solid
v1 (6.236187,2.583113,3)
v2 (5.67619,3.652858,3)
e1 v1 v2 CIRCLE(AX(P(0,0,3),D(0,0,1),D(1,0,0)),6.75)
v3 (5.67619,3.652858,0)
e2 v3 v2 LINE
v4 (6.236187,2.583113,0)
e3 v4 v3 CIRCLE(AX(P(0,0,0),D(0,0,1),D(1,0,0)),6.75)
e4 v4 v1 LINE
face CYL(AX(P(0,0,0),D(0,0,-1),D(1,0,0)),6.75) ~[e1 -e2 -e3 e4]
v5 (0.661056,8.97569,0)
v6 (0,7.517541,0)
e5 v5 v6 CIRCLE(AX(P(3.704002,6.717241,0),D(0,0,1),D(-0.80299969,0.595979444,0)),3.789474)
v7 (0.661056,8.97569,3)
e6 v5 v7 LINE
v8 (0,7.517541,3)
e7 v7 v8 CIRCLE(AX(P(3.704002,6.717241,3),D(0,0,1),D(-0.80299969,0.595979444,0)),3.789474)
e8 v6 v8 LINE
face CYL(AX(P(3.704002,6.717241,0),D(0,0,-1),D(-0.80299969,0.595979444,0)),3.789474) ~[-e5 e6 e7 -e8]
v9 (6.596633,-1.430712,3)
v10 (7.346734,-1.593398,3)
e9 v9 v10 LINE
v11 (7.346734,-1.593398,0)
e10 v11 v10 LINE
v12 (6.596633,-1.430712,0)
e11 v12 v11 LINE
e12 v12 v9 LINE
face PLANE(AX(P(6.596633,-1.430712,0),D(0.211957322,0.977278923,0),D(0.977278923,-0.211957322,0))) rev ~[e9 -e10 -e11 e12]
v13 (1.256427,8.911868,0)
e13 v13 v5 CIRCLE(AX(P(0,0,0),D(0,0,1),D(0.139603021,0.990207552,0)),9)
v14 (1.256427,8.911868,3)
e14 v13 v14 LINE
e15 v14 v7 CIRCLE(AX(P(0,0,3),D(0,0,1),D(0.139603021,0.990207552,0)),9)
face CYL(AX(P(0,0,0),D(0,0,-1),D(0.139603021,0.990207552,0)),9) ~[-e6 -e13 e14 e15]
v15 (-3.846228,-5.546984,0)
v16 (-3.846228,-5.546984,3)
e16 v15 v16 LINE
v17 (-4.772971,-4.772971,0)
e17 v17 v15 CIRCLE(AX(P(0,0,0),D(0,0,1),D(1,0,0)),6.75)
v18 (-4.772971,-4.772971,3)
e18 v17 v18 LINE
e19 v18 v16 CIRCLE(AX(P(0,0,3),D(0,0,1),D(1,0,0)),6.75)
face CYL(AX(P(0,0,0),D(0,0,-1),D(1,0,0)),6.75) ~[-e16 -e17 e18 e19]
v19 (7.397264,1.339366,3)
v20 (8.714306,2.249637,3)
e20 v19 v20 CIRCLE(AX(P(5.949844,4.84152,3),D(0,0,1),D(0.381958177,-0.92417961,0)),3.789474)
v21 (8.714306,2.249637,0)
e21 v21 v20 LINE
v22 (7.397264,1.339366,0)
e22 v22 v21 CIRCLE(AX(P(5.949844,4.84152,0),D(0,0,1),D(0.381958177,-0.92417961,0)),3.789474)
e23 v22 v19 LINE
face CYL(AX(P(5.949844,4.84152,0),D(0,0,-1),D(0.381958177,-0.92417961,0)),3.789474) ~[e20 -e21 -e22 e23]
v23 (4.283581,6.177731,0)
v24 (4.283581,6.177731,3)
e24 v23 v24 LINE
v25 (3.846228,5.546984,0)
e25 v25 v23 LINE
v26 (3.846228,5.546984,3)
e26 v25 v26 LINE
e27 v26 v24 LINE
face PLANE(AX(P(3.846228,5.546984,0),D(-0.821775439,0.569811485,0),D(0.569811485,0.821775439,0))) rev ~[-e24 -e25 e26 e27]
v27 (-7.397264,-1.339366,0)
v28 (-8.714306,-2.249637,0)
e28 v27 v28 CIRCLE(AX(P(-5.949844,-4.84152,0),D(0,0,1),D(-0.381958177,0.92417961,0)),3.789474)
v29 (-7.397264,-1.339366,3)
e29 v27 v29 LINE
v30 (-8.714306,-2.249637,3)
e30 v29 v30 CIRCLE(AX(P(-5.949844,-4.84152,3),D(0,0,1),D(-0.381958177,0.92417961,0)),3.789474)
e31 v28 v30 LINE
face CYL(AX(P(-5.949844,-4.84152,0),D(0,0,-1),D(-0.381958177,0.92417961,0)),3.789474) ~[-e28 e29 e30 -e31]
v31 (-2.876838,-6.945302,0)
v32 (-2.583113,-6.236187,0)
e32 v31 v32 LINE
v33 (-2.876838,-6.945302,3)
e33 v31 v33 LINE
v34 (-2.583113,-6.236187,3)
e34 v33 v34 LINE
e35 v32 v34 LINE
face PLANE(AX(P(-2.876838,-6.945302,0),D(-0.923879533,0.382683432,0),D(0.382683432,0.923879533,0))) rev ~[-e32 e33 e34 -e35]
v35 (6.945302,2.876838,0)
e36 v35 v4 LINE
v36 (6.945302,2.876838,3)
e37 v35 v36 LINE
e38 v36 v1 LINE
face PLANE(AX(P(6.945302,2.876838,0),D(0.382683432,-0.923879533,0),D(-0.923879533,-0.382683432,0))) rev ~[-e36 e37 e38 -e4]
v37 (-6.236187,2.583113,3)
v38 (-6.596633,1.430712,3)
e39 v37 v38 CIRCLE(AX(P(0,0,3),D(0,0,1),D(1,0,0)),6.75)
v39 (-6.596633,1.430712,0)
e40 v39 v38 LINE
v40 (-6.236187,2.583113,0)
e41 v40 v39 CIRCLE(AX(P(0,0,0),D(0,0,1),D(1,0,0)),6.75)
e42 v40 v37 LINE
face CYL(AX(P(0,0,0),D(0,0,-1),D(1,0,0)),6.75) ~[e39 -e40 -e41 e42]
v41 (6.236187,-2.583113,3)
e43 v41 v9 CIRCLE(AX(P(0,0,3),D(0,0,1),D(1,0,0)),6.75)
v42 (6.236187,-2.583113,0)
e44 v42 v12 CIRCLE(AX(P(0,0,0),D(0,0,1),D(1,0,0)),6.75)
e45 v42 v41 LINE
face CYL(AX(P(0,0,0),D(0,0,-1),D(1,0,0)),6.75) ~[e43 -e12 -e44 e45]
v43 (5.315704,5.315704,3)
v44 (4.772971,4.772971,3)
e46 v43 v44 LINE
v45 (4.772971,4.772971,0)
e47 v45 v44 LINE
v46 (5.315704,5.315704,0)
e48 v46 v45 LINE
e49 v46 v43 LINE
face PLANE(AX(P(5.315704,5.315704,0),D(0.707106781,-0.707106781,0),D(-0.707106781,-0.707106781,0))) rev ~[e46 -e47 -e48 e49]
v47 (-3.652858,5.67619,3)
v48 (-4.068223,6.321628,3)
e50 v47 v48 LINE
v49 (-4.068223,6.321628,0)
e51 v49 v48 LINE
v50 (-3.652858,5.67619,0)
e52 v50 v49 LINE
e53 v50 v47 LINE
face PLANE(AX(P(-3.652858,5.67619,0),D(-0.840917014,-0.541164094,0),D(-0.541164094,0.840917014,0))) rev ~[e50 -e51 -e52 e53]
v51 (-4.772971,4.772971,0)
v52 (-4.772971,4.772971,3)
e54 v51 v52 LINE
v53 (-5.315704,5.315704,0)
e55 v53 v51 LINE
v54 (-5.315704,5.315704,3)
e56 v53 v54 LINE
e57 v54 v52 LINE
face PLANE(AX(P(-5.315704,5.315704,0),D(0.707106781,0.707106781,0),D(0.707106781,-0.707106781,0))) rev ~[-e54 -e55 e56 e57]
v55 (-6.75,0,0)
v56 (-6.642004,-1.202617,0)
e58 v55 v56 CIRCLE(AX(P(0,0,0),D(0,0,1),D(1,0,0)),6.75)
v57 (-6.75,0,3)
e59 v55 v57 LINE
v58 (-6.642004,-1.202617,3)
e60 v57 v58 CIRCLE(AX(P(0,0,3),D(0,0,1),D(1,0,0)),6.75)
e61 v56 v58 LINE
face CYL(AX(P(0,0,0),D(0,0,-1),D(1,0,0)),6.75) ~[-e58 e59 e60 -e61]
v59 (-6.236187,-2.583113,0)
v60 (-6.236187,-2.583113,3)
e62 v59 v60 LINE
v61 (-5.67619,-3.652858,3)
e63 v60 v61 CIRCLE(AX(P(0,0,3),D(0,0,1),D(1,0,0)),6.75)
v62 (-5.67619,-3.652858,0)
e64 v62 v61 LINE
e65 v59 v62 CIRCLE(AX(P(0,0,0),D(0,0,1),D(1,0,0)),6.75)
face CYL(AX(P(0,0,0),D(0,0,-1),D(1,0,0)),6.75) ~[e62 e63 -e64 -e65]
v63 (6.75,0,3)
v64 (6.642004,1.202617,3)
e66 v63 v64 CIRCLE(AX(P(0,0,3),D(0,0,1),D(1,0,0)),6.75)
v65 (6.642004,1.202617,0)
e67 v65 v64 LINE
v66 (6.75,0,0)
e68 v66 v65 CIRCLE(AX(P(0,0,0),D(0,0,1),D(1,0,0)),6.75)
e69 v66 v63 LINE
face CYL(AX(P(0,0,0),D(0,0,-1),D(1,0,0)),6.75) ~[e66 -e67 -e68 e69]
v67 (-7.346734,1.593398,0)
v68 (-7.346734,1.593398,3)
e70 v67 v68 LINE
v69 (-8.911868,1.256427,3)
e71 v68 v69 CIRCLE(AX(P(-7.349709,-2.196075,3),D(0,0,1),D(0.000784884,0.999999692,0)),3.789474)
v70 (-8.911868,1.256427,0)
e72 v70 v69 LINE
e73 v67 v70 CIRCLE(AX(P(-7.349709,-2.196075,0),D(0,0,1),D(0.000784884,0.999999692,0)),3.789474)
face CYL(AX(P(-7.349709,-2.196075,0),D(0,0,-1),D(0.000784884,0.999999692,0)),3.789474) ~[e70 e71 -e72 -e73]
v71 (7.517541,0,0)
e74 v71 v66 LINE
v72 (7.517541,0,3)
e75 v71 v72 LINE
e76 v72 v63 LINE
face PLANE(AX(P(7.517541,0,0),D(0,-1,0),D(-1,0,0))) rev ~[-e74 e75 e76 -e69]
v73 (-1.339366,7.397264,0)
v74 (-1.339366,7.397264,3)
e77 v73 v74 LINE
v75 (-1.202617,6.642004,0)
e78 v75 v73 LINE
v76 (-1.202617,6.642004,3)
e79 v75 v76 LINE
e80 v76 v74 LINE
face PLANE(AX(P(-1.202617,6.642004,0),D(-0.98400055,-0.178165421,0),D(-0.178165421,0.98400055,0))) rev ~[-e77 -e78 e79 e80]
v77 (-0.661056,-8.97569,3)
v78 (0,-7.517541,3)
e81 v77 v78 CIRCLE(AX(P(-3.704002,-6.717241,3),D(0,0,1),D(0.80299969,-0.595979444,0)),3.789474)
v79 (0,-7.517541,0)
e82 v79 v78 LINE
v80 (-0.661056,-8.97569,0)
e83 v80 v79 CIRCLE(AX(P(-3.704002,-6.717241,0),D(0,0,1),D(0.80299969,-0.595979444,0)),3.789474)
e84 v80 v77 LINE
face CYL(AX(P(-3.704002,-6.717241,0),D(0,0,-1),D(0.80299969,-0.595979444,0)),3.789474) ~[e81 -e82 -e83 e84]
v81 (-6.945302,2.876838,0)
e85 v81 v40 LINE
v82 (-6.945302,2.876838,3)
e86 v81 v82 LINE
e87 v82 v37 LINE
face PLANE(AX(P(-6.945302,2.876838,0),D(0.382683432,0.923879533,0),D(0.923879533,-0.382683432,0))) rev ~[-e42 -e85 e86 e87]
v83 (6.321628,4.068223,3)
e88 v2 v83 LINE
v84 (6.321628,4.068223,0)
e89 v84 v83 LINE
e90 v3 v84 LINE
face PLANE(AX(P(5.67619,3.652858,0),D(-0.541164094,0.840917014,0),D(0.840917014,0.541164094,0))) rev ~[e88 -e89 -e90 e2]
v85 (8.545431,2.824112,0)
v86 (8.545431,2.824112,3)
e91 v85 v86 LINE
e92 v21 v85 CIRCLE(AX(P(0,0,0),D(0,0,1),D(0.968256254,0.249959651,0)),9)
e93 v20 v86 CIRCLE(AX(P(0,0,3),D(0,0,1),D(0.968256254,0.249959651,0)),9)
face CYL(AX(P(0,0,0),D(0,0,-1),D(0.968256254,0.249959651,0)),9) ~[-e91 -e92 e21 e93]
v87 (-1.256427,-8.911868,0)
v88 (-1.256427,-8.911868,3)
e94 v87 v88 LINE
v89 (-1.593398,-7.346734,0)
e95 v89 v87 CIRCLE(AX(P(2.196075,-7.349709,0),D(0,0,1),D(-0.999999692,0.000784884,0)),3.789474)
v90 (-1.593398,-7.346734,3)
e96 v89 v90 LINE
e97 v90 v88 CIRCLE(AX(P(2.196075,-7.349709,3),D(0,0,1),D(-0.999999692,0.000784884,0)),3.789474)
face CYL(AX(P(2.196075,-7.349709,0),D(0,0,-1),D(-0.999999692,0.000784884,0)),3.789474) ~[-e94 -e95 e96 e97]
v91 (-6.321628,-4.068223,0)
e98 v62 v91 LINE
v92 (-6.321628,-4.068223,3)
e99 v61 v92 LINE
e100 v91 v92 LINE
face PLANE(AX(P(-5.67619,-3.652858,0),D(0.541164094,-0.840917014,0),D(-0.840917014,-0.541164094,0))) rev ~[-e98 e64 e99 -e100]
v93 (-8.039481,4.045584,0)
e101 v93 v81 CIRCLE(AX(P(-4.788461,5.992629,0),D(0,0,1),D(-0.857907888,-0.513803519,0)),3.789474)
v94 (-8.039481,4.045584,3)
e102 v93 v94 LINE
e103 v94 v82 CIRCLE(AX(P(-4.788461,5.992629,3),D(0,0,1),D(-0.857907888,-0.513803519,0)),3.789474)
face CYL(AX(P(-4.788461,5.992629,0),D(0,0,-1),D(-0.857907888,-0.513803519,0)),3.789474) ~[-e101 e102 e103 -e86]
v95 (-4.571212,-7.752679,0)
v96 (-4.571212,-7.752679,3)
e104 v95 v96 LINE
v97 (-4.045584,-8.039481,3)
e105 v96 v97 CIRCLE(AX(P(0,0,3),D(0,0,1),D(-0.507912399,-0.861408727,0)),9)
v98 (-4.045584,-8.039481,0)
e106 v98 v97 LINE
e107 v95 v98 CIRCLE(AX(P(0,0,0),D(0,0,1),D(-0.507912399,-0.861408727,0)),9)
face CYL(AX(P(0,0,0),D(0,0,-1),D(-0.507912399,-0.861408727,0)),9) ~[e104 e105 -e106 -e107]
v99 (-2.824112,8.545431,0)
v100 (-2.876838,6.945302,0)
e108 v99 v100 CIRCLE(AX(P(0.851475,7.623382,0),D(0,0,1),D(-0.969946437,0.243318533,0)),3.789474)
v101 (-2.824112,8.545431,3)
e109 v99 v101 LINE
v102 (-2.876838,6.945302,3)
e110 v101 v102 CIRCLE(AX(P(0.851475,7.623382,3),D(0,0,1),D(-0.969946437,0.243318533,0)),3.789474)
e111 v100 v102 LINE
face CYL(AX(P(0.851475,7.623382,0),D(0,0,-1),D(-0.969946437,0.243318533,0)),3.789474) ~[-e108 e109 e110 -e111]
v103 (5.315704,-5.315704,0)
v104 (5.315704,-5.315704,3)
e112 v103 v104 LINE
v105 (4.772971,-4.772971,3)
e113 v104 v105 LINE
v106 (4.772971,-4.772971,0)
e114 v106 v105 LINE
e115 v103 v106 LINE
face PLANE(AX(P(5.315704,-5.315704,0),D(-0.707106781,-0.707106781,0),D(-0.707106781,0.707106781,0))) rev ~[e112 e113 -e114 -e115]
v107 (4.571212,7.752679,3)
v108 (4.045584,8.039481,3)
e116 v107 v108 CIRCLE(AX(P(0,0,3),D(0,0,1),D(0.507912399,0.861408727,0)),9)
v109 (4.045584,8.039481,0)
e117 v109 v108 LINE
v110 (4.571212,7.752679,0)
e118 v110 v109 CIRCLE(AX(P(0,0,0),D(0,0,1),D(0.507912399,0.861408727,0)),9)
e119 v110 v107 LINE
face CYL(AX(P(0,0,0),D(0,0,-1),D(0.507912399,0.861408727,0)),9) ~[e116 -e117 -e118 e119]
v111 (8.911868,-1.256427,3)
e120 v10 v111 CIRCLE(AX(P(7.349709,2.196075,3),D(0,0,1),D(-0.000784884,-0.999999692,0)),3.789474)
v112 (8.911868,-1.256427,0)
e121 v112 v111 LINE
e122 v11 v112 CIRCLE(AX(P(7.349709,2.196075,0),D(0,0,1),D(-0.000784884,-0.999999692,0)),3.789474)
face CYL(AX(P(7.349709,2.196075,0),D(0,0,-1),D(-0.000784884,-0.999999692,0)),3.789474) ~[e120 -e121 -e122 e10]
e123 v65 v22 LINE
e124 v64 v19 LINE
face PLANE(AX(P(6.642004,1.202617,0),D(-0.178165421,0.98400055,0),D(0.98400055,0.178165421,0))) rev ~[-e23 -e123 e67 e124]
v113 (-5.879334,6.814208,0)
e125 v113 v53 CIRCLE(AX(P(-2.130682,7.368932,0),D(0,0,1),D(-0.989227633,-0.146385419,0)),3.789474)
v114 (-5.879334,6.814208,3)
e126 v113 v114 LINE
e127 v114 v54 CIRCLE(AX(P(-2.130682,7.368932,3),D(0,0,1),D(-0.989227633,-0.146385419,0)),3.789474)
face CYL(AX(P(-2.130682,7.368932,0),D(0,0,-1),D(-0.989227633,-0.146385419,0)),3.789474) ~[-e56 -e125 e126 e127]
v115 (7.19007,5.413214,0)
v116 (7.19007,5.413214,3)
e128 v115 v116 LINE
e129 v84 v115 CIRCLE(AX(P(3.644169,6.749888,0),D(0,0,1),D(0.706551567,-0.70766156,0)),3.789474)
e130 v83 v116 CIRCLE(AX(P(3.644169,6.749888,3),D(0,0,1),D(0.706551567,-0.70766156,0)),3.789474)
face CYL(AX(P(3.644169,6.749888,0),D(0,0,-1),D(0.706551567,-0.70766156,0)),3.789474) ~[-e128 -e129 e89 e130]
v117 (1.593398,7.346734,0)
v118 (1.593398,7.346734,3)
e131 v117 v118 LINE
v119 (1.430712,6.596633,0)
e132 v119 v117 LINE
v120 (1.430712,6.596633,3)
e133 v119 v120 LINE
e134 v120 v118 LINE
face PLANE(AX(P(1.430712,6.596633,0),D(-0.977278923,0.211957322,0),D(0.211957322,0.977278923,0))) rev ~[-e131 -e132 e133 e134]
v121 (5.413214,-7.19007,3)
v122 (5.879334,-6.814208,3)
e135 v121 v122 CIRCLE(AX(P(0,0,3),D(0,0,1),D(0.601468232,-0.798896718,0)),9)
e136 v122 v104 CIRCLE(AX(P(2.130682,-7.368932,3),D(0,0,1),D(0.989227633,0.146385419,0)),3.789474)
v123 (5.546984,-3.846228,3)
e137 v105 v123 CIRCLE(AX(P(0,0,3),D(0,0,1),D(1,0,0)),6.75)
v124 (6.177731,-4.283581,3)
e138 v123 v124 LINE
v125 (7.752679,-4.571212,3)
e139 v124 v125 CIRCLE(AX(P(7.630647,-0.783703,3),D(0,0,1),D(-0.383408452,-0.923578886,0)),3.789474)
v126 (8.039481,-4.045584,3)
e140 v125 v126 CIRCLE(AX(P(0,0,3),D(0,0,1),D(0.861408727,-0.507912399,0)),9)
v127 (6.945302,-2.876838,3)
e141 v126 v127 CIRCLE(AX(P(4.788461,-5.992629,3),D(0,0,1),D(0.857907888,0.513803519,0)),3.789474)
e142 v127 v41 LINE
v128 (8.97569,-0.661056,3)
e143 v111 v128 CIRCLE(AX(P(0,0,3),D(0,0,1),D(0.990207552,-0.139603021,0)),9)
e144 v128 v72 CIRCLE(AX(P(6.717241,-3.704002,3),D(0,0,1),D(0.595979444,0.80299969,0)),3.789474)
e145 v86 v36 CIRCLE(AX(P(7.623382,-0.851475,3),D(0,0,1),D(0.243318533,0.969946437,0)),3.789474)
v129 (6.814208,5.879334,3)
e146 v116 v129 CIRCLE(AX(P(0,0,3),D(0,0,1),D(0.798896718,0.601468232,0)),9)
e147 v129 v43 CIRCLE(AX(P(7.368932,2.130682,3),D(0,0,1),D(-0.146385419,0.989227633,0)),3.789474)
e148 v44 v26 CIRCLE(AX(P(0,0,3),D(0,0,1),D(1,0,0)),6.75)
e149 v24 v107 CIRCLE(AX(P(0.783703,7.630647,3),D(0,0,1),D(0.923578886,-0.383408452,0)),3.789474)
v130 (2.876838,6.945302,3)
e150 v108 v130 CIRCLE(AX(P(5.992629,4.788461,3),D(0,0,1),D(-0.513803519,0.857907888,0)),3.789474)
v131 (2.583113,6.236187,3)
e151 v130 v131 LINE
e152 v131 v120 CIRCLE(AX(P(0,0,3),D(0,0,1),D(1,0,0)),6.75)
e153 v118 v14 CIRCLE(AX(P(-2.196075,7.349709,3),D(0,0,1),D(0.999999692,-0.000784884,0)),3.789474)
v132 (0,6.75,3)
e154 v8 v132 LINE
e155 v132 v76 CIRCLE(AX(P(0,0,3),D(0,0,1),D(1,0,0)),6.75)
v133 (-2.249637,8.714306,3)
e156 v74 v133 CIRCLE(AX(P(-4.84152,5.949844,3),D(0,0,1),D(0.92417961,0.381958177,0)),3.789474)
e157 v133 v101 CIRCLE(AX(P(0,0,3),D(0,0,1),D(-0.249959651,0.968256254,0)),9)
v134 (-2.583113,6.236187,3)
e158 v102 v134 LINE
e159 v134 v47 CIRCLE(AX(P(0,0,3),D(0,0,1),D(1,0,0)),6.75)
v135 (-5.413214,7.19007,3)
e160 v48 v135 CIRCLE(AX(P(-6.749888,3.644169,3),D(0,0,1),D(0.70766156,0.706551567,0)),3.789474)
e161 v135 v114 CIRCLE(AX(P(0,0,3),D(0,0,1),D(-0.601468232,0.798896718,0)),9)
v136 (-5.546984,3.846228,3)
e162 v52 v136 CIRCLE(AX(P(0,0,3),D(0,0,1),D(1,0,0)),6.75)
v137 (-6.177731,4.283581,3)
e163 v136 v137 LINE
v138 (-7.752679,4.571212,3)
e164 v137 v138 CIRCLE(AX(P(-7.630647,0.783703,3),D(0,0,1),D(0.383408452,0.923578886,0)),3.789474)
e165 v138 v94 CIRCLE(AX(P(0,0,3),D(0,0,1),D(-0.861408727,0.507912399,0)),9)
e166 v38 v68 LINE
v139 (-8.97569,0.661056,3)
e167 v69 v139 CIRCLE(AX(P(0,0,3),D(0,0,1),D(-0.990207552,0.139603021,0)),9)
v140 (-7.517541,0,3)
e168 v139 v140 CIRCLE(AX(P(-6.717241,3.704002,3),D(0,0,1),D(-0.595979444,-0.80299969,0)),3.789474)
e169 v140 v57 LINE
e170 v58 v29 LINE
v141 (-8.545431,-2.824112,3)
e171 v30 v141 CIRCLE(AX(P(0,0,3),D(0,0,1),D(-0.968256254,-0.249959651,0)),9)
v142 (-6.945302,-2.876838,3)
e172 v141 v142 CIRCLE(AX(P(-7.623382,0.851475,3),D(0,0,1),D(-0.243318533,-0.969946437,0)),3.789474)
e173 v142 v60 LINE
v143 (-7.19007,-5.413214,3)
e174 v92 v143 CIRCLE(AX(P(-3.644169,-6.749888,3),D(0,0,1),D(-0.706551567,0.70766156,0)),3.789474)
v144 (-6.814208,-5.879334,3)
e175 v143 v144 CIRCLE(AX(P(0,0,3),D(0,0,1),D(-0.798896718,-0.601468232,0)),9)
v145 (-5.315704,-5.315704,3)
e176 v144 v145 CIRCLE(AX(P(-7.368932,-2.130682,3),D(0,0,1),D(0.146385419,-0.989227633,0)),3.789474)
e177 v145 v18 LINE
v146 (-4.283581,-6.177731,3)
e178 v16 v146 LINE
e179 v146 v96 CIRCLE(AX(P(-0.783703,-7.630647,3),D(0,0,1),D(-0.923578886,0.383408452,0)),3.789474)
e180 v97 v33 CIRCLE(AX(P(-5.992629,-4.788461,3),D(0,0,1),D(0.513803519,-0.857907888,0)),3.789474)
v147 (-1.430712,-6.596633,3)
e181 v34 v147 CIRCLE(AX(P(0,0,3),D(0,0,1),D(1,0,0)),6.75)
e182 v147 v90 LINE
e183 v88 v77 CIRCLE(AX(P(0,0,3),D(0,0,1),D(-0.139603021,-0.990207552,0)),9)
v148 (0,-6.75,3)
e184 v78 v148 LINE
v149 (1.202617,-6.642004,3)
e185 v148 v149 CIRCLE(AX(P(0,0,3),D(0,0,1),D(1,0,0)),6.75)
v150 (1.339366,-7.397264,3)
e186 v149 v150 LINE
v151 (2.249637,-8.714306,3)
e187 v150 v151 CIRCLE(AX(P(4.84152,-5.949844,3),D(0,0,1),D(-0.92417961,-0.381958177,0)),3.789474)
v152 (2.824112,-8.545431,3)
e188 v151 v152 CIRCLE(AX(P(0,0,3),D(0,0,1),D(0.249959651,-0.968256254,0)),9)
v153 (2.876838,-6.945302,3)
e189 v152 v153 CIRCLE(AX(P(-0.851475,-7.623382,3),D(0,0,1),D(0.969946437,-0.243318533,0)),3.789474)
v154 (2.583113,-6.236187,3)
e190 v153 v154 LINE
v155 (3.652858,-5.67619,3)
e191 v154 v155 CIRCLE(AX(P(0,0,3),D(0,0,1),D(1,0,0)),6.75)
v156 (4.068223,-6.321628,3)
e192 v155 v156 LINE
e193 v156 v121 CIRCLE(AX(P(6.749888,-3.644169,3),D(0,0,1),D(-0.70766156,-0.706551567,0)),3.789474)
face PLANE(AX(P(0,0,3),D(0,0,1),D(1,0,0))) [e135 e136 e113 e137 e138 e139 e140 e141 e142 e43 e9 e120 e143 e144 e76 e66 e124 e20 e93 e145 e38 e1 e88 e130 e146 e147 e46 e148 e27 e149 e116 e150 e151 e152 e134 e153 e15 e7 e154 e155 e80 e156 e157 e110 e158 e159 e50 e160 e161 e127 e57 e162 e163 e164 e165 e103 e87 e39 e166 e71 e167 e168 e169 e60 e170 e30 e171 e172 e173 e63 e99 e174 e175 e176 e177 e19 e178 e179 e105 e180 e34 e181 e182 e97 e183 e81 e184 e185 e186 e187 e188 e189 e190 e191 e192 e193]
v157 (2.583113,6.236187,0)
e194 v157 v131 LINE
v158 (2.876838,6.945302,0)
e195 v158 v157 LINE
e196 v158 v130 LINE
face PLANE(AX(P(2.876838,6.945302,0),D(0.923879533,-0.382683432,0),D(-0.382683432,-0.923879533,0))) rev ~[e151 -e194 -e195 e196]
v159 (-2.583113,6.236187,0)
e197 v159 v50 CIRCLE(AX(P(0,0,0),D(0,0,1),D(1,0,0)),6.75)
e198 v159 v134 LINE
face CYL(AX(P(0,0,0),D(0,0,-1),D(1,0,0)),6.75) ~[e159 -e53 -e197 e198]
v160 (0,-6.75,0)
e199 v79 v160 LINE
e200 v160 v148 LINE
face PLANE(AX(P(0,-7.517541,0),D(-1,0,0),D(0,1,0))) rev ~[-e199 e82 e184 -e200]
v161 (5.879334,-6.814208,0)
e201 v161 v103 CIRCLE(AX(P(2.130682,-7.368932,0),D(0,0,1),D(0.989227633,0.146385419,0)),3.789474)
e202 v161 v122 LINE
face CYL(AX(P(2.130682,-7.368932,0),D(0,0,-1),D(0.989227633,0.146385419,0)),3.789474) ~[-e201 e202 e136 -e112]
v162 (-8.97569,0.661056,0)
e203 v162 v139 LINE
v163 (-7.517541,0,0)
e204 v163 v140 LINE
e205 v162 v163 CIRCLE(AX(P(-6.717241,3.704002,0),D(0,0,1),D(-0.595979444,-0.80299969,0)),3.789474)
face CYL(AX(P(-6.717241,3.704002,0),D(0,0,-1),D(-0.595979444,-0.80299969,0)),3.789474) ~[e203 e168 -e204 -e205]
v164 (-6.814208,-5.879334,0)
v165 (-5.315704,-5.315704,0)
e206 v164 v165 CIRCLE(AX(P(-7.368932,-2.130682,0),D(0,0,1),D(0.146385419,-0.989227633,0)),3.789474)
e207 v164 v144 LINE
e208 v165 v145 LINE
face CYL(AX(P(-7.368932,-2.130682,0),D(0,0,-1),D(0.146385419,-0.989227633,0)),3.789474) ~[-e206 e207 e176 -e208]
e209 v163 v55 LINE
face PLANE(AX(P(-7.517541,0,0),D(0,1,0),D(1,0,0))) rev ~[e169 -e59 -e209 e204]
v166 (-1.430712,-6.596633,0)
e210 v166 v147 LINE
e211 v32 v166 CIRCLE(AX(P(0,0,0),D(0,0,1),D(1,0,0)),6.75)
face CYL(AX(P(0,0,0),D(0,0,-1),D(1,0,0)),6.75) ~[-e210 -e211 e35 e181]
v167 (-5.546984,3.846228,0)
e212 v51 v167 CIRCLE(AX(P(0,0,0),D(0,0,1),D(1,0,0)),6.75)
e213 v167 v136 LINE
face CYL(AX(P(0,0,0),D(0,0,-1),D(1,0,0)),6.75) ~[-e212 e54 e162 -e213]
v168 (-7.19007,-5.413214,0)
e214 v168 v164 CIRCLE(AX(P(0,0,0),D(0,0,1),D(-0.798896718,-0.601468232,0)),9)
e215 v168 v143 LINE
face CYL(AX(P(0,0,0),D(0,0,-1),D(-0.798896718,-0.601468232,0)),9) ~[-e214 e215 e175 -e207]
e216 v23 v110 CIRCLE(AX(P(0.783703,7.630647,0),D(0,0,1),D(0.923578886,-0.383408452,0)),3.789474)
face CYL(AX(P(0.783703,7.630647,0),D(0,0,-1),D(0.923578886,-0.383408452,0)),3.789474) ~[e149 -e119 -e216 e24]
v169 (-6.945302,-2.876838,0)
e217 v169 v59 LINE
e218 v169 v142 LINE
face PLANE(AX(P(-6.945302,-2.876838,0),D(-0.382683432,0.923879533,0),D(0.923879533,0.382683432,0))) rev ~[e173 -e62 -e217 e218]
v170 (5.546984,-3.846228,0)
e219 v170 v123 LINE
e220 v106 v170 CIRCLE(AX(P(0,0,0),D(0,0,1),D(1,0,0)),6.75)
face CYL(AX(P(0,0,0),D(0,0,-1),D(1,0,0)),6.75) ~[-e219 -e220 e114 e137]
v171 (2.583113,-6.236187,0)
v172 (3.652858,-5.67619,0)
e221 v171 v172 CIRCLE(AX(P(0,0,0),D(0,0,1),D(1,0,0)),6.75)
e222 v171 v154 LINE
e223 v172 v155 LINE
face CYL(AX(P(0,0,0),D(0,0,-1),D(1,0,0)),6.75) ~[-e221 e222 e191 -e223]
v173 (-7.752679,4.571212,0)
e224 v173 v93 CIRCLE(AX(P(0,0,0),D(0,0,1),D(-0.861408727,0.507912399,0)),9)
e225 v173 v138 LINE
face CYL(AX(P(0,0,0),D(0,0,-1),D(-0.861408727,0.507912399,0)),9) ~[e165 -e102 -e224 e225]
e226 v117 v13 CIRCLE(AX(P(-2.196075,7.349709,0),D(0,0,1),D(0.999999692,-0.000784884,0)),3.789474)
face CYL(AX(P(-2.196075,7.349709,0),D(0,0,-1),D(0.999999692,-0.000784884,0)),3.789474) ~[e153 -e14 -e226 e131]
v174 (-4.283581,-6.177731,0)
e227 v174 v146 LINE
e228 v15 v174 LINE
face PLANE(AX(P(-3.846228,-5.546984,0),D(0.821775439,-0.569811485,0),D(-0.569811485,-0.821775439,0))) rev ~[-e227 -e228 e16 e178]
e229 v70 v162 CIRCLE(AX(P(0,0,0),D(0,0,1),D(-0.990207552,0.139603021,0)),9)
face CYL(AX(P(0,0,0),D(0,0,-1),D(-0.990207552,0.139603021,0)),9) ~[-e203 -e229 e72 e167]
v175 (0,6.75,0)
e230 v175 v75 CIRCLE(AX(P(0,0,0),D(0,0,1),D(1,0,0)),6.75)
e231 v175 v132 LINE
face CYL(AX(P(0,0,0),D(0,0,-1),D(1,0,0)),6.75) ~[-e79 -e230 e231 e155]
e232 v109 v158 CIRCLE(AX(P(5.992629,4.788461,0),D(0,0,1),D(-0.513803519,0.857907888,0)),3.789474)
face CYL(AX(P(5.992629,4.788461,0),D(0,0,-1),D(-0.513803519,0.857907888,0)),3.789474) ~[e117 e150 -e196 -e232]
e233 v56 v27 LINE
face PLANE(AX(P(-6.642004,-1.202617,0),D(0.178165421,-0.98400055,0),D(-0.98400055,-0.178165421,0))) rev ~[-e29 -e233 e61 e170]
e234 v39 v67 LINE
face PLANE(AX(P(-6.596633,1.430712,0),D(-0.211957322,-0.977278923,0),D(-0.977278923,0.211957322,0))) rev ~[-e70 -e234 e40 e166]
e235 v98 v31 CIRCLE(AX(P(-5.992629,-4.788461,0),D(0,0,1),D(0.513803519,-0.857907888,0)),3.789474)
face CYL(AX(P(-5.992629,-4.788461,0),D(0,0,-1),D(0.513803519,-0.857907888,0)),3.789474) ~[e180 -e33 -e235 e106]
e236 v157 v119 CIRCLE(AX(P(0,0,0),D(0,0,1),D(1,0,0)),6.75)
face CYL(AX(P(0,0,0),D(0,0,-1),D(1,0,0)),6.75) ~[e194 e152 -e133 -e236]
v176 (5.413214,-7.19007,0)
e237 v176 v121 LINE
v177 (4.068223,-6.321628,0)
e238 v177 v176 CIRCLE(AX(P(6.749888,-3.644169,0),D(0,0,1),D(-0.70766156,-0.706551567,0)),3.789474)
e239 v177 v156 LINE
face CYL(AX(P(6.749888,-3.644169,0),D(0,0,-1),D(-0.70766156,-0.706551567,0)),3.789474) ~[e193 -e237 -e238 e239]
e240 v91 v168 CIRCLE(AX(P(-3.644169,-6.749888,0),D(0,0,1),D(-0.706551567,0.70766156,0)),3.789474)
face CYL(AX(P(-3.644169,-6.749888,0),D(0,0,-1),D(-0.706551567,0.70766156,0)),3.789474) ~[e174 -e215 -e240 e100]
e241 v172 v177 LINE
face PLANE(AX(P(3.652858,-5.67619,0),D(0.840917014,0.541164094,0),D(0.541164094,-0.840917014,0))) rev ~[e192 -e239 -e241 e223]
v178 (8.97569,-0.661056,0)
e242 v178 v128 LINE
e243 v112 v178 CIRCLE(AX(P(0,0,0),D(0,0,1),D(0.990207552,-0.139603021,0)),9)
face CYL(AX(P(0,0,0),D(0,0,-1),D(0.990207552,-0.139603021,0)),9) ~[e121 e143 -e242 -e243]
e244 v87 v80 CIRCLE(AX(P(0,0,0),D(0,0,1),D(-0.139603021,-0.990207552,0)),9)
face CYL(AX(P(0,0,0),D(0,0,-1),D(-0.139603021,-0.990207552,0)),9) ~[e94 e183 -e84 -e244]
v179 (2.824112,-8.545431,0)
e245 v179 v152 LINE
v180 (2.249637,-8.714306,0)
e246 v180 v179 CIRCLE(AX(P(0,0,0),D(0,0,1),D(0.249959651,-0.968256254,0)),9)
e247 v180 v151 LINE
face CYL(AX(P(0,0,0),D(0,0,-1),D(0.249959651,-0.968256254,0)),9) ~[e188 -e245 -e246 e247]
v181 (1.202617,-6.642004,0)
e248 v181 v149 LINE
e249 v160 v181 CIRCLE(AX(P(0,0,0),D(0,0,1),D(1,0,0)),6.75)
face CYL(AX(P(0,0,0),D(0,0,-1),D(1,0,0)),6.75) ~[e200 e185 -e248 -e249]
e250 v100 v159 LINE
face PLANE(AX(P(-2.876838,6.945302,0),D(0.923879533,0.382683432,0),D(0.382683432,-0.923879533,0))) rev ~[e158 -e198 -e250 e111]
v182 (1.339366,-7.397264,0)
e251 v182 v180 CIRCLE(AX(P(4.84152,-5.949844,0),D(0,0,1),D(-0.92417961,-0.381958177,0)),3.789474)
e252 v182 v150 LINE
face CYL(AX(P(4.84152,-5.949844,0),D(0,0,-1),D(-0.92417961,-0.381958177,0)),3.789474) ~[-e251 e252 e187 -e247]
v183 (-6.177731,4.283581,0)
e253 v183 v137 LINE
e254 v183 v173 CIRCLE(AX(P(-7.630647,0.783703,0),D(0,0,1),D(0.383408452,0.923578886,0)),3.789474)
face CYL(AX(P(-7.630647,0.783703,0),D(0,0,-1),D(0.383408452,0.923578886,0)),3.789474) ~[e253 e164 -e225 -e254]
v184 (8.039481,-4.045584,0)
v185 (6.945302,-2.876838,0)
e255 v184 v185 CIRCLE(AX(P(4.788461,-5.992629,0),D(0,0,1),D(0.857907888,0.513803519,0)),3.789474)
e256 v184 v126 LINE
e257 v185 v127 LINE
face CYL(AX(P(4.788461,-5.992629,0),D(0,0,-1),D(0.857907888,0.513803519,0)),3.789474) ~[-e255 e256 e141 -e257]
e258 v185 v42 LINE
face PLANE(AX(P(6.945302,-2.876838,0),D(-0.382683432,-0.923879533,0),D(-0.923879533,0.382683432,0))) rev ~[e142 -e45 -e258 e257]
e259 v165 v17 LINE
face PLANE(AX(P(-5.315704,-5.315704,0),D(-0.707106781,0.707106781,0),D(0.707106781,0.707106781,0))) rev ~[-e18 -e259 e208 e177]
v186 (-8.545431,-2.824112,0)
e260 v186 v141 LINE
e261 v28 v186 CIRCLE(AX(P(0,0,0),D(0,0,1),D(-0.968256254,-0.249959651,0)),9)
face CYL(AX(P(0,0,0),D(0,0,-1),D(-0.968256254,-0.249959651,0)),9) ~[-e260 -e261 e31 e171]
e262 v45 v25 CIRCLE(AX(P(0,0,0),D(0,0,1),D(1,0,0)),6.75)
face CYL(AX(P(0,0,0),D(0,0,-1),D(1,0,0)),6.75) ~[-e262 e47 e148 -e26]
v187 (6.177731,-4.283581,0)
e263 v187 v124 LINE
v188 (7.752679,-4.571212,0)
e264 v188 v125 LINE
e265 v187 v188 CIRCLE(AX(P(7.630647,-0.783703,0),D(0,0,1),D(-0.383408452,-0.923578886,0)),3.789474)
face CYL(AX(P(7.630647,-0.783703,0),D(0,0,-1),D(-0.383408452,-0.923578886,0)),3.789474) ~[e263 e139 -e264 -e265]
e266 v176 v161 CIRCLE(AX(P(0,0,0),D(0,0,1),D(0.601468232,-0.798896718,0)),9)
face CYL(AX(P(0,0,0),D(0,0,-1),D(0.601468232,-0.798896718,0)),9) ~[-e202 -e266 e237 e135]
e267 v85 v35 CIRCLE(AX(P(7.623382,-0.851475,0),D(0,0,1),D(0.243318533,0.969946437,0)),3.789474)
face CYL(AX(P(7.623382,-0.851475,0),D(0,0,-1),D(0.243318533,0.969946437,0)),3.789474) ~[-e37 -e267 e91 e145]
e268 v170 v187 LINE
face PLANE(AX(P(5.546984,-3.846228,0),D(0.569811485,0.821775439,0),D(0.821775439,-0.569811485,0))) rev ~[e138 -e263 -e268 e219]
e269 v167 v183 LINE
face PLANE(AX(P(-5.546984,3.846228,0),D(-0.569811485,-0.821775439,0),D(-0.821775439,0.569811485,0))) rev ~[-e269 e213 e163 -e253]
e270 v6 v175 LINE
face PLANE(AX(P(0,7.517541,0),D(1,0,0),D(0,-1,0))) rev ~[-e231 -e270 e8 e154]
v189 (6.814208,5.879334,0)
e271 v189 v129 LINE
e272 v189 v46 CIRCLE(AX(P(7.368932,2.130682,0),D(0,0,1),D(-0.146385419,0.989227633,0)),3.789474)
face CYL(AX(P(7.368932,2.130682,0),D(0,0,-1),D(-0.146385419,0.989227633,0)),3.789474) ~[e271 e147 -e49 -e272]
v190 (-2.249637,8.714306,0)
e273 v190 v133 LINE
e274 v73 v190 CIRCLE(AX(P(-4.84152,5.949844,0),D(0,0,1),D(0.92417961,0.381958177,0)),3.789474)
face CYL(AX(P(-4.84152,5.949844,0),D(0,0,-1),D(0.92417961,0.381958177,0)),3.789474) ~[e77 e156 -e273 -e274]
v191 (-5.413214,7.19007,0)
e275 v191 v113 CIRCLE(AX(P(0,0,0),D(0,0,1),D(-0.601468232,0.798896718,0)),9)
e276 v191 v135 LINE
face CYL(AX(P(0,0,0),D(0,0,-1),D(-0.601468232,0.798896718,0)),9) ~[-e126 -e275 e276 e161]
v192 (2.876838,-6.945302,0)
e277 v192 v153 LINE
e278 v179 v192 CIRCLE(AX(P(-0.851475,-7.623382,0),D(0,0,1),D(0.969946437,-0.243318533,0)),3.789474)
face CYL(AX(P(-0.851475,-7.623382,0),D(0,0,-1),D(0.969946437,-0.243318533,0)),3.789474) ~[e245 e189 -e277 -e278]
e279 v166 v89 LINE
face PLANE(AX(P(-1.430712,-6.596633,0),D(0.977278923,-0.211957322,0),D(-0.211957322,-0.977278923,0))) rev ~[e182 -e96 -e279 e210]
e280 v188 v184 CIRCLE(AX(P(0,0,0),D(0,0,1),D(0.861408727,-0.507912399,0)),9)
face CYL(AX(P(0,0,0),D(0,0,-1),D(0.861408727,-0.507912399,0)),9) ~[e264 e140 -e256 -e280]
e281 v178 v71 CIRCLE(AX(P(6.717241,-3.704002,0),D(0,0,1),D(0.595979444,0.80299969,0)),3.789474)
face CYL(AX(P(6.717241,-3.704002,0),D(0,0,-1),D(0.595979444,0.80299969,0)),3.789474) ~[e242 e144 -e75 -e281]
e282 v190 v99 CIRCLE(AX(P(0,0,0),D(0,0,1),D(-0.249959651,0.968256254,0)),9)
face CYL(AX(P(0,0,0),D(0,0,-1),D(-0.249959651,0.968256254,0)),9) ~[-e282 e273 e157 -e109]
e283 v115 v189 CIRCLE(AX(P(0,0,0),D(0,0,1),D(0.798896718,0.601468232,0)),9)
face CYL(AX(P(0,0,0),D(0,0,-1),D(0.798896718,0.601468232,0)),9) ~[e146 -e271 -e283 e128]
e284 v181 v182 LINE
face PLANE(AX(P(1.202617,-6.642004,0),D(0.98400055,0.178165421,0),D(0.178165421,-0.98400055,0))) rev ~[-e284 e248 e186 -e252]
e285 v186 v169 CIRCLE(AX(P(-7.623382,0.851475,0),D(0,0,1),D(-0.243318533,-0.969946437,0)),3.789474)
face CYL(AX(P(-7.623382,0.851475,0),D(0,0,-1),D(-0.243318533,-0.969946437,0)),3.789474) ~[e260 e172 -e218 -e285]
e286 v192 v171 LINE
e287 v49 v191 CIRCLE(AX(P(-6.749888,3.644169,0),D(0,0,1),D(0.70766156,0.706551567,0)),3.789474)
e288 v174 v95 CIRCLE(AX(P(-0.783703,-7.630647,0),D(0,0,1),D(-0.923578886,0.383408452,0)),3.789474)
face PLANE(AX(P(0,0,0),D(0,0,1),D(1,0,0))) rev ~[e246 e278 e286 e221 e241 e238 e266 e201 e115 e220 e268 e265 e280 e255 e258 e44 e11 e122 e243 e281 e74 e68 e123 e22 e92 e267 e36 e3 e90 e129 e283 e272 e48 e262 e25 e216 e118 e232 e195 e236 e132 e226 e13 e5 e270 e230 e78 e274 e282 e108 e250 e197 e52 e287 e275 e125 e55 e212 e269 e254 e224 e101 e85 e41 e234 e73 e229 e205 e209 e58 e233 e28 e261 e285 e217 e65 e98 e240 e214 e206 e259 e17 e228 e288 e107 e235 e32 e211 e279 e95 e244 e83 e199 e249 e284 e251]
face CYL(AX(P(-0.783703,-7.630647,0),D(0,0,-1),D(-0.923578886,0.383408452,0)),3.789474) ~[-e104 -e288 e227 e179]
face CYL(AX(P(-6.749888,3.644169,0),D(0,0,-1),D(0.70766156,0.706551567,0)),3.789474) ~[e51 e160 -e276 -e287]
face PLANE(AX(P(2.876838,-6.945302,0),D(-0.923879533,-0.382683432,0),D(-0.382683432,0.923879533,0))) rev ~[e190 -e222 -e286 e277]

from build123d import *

# Parameters (mm, degrees)
BOSS_EXTRU_1_DEPTH           = 3
R_P_TITION_CIRCULAIRE2_COUNT = 16
ESQUISSE5_R                  = 6.75
BOSS_EXTRU_2_DEPTH           = 3


with BuildPart() as part:
    # Esquisse4 → Boss.-Extru.1 (new body)
    with BuildSketch(Plane.XY):
        with BuildLine():
            Line((0, 7.517540966), (0, 6.75))
            ThreePointArc((0, 6.75), (0.719454333, 6.711548664), (1.430711931, 6.59663273))
            Line((1.430711931, 6.59663273), (1.593397859, 7.346734339))
            ThreePointArc((1.593397859, 7.346734339), (1.508511555, 8.147299885), (1.256427196, 8.911867969))
            ThreePointArc((1.256427196, 8.911867969), (0.959272444, 8.948731551), (0.661055861, 8.975689675))
            ThreePointArc((0.661055861, 8.975689675), (0.252643326, 8.281924527), (0, 7.517540966))
        make_face()
    extrude(amount=BOSS_EXTRU_1_DEPTH)


with BuildPart() as r_p_tition_circulaire2_1:
    # Répétition circulaire2: pattern copy
    add(part.part.rotate(Axis((0, 0, 0), (0, 0, 1)), 1 * 360 / R_P_TITION_CIRCULAIRE2_COUNT))


with BuildPart() as r_p_tition_circulaire2_2:
    # Répétition circulaire2: pattern copy
    add(part.part.rotate(Axis((0, 0, 0), (0, 0, 1)), 2 * 360 / R_P_TITION_CIRCULAIRE2_COUNT))


with BuildPart() as r_p_tition_circulaire2_3:
    # Répétition circulaire2: pattern copy
    add(part.part.rotate(Axis((0, 0, 0), (0, 0, 1)), 3 * 360 / R_P_TITION_CIRCULAIRE2_COUNT))


with BuildPart() as r_p_tition_circulaire2_4:
    # Répétition circulaire2: pattern copy
    add(part.part.rotate(Axis((0, 0, 0), (0, 0, 1)), 4 * 360 / R_P_TITION_CIRCULAIRE2_COUNT))


with BuildPart() as r_p_tition_circulaire2_5:
    # Répétition circulaire2: pattern copy
    add(part.part.rotate(Axis((0, 0, 0), (0, 0, 1)), 5 * 360 / R_P_TITION_CIRCULAIRE2_COUNT))


with BuildPart() as r_p_tition_circulaire2_6:
    # Répétition circulaire2: pattern copy
    add(part.part.rotate(Axis((0, 0, 0), (0, 0, 1)), 6 * 360 / R_P_TITION_CIRCULAIRE2_COUNT))


with BuildPart() as r_p_tition_circulaire2_7:
    # Répétition circulaire2: pattern copy
    add(part.part.rotate(Axis((0, 0, 0), (0, 0, 1)), 7 * 360 / R_P_TITION_CIRCULAIRE2_COUNT))


with BuildPart() as r_p_tition_circulaire2_8:
    # Répétition circulaire2: pattern copy
    add(part.part.rotate(Axis((0, 0, 0), (0, 0, 1)), 8 * 360 / R_P_TITION_CIRCULAIRE2_COUNT))


with BuildPart() as r_p_tition_circulaire2_9:
    # Répétition circulaire2: pattern copy
    add(part.part.rotate(Axis((0, 0, 0), (0, 0, 1)), 9 * 360 / R_P_TITION_CIRCULAIRE2_COUNT))


with BuildPart() as r_p_tition_circulaire2_10:
    # Répétition circulaire2: pattern copy
    add(part.part.rotate(Axis((0, 0, 0), (0, 0, 1)), 10 * 360 / R_P_TITION_CIRCULAIRE2_COUNT))


with BuildPart() as r_p_tition_circulaire2_11:
    # Répétition circulaire2: pattern copy
    add(part.part.rotate(Axis((0, 0, 0), (0, 0, 1)), 11 * 360 / R_P_TITION_CIRCULAIRE2_COUNT))


with BuildPart() as r_p_tition_circulaire2_12:
    # Répétition circulaire2: pattern copy
    add(part.part.rotate(Axis((0, 0, 0), (0, 0, 1)), 12 * 360 / R_P_TITION_CIRCULAIRE2_COUNT))


with BuildPart() as r_p_tition_circulaire2_13:
    # Répétition circulaire2: pattern copy
    add(part.part.rotate(Axis((0, 0, 0), (0, 0, 1)), 13 * 360 / R_P_TITION_CIRCULAIRE2_COUNT))


with BuildPart() as r_p_tition_circulaire2_14:
    # Répétition circulaire2: pattern copy
    add(part.part.rotate(Axis((0, 0, 0), (0, 0, 1)), 14 * 360 / R_P_TITION_CIRCULAIRE2_COUNT))


with BuildPart() as r_p_tition_circulaire2_15:
    # Répétition circulaire2: pattern copy
    add(part.part.rotate(Axis((0, 0, 0), (0, 0, 1)), 15 * 360 / R_P_TITION_CIRCULAIRE2_COUNT))


with BuildPart() as part_1:
    add(part.part)

    add(r_p_tition_circulaire2_1.part)  # Boss.-Extru.2 merges Répétition circulaire2_1

    add(r_p_tition_circulaire2_2.part)  # Boss.-Extru.2 merges Répétition circulaire2_2

    add(r_p_tition_circulaire2_3.part)  # Boss.-Extru.2 merges Répétition circulaire2_3

    add(r_p_tition_circulaire2_4.part)  # Boss.-Extru.2 merges Répétition circulaire2_4

    add(r_p_tition_circulaire2_5.part)  # Boss.-Extru.2 merges Répétition circulaire2_5

    add(r_p_tition_circulaire2_6.part)  # Boss.-Extru.2 merges Répétition circulaire2_6

    add(r_p_tition_circulaire2_7.part)  # Boss.-Extru.2 merges Répétition circulaire2_7

    add(r_p_tition_circulaire2_8.part)  # Boss.-Extru.2 merges Répétition circulaire2_8

    add(r_p_tition_circulaire2_9.part)  # Boss.-Extru.2 merges Répétition circulaire2_9

    add(r_p_tition_circulaire2_10.part)  # Boss.-Extru.2 merges Répétition circulaire2_10

    add(r_p_tition_circulaire2_11.part)  # Boss.-Extru.2 merges Répétition circulaire2_11

    add(r_p_tition_circulaire2_12.part)  # Boss.-Extru.2 merges Répétition circulaire2_12

    add(r_p_tition_circulaire2_13.part)  # Boss.-Extru.2 merges Répétition circulaire2_13

    add(r_p_tition_circulaire2_14.part)  # Boss.-Extru.2 merges Répétition circulaire2_14

    add(r_p_tition_circulaire2_15.part)  # Boss.-Extru.2 merges Répétition circulaire2_15
    # Esquisse5 → Boss.-Extru.2 (add)
    with BuildSketch(Plane.XY):
        Circle(ESQUISSE5_R)
    extrude(amount=BOSS_EXTRU_2_DEPTH)


solid = part_1.part
